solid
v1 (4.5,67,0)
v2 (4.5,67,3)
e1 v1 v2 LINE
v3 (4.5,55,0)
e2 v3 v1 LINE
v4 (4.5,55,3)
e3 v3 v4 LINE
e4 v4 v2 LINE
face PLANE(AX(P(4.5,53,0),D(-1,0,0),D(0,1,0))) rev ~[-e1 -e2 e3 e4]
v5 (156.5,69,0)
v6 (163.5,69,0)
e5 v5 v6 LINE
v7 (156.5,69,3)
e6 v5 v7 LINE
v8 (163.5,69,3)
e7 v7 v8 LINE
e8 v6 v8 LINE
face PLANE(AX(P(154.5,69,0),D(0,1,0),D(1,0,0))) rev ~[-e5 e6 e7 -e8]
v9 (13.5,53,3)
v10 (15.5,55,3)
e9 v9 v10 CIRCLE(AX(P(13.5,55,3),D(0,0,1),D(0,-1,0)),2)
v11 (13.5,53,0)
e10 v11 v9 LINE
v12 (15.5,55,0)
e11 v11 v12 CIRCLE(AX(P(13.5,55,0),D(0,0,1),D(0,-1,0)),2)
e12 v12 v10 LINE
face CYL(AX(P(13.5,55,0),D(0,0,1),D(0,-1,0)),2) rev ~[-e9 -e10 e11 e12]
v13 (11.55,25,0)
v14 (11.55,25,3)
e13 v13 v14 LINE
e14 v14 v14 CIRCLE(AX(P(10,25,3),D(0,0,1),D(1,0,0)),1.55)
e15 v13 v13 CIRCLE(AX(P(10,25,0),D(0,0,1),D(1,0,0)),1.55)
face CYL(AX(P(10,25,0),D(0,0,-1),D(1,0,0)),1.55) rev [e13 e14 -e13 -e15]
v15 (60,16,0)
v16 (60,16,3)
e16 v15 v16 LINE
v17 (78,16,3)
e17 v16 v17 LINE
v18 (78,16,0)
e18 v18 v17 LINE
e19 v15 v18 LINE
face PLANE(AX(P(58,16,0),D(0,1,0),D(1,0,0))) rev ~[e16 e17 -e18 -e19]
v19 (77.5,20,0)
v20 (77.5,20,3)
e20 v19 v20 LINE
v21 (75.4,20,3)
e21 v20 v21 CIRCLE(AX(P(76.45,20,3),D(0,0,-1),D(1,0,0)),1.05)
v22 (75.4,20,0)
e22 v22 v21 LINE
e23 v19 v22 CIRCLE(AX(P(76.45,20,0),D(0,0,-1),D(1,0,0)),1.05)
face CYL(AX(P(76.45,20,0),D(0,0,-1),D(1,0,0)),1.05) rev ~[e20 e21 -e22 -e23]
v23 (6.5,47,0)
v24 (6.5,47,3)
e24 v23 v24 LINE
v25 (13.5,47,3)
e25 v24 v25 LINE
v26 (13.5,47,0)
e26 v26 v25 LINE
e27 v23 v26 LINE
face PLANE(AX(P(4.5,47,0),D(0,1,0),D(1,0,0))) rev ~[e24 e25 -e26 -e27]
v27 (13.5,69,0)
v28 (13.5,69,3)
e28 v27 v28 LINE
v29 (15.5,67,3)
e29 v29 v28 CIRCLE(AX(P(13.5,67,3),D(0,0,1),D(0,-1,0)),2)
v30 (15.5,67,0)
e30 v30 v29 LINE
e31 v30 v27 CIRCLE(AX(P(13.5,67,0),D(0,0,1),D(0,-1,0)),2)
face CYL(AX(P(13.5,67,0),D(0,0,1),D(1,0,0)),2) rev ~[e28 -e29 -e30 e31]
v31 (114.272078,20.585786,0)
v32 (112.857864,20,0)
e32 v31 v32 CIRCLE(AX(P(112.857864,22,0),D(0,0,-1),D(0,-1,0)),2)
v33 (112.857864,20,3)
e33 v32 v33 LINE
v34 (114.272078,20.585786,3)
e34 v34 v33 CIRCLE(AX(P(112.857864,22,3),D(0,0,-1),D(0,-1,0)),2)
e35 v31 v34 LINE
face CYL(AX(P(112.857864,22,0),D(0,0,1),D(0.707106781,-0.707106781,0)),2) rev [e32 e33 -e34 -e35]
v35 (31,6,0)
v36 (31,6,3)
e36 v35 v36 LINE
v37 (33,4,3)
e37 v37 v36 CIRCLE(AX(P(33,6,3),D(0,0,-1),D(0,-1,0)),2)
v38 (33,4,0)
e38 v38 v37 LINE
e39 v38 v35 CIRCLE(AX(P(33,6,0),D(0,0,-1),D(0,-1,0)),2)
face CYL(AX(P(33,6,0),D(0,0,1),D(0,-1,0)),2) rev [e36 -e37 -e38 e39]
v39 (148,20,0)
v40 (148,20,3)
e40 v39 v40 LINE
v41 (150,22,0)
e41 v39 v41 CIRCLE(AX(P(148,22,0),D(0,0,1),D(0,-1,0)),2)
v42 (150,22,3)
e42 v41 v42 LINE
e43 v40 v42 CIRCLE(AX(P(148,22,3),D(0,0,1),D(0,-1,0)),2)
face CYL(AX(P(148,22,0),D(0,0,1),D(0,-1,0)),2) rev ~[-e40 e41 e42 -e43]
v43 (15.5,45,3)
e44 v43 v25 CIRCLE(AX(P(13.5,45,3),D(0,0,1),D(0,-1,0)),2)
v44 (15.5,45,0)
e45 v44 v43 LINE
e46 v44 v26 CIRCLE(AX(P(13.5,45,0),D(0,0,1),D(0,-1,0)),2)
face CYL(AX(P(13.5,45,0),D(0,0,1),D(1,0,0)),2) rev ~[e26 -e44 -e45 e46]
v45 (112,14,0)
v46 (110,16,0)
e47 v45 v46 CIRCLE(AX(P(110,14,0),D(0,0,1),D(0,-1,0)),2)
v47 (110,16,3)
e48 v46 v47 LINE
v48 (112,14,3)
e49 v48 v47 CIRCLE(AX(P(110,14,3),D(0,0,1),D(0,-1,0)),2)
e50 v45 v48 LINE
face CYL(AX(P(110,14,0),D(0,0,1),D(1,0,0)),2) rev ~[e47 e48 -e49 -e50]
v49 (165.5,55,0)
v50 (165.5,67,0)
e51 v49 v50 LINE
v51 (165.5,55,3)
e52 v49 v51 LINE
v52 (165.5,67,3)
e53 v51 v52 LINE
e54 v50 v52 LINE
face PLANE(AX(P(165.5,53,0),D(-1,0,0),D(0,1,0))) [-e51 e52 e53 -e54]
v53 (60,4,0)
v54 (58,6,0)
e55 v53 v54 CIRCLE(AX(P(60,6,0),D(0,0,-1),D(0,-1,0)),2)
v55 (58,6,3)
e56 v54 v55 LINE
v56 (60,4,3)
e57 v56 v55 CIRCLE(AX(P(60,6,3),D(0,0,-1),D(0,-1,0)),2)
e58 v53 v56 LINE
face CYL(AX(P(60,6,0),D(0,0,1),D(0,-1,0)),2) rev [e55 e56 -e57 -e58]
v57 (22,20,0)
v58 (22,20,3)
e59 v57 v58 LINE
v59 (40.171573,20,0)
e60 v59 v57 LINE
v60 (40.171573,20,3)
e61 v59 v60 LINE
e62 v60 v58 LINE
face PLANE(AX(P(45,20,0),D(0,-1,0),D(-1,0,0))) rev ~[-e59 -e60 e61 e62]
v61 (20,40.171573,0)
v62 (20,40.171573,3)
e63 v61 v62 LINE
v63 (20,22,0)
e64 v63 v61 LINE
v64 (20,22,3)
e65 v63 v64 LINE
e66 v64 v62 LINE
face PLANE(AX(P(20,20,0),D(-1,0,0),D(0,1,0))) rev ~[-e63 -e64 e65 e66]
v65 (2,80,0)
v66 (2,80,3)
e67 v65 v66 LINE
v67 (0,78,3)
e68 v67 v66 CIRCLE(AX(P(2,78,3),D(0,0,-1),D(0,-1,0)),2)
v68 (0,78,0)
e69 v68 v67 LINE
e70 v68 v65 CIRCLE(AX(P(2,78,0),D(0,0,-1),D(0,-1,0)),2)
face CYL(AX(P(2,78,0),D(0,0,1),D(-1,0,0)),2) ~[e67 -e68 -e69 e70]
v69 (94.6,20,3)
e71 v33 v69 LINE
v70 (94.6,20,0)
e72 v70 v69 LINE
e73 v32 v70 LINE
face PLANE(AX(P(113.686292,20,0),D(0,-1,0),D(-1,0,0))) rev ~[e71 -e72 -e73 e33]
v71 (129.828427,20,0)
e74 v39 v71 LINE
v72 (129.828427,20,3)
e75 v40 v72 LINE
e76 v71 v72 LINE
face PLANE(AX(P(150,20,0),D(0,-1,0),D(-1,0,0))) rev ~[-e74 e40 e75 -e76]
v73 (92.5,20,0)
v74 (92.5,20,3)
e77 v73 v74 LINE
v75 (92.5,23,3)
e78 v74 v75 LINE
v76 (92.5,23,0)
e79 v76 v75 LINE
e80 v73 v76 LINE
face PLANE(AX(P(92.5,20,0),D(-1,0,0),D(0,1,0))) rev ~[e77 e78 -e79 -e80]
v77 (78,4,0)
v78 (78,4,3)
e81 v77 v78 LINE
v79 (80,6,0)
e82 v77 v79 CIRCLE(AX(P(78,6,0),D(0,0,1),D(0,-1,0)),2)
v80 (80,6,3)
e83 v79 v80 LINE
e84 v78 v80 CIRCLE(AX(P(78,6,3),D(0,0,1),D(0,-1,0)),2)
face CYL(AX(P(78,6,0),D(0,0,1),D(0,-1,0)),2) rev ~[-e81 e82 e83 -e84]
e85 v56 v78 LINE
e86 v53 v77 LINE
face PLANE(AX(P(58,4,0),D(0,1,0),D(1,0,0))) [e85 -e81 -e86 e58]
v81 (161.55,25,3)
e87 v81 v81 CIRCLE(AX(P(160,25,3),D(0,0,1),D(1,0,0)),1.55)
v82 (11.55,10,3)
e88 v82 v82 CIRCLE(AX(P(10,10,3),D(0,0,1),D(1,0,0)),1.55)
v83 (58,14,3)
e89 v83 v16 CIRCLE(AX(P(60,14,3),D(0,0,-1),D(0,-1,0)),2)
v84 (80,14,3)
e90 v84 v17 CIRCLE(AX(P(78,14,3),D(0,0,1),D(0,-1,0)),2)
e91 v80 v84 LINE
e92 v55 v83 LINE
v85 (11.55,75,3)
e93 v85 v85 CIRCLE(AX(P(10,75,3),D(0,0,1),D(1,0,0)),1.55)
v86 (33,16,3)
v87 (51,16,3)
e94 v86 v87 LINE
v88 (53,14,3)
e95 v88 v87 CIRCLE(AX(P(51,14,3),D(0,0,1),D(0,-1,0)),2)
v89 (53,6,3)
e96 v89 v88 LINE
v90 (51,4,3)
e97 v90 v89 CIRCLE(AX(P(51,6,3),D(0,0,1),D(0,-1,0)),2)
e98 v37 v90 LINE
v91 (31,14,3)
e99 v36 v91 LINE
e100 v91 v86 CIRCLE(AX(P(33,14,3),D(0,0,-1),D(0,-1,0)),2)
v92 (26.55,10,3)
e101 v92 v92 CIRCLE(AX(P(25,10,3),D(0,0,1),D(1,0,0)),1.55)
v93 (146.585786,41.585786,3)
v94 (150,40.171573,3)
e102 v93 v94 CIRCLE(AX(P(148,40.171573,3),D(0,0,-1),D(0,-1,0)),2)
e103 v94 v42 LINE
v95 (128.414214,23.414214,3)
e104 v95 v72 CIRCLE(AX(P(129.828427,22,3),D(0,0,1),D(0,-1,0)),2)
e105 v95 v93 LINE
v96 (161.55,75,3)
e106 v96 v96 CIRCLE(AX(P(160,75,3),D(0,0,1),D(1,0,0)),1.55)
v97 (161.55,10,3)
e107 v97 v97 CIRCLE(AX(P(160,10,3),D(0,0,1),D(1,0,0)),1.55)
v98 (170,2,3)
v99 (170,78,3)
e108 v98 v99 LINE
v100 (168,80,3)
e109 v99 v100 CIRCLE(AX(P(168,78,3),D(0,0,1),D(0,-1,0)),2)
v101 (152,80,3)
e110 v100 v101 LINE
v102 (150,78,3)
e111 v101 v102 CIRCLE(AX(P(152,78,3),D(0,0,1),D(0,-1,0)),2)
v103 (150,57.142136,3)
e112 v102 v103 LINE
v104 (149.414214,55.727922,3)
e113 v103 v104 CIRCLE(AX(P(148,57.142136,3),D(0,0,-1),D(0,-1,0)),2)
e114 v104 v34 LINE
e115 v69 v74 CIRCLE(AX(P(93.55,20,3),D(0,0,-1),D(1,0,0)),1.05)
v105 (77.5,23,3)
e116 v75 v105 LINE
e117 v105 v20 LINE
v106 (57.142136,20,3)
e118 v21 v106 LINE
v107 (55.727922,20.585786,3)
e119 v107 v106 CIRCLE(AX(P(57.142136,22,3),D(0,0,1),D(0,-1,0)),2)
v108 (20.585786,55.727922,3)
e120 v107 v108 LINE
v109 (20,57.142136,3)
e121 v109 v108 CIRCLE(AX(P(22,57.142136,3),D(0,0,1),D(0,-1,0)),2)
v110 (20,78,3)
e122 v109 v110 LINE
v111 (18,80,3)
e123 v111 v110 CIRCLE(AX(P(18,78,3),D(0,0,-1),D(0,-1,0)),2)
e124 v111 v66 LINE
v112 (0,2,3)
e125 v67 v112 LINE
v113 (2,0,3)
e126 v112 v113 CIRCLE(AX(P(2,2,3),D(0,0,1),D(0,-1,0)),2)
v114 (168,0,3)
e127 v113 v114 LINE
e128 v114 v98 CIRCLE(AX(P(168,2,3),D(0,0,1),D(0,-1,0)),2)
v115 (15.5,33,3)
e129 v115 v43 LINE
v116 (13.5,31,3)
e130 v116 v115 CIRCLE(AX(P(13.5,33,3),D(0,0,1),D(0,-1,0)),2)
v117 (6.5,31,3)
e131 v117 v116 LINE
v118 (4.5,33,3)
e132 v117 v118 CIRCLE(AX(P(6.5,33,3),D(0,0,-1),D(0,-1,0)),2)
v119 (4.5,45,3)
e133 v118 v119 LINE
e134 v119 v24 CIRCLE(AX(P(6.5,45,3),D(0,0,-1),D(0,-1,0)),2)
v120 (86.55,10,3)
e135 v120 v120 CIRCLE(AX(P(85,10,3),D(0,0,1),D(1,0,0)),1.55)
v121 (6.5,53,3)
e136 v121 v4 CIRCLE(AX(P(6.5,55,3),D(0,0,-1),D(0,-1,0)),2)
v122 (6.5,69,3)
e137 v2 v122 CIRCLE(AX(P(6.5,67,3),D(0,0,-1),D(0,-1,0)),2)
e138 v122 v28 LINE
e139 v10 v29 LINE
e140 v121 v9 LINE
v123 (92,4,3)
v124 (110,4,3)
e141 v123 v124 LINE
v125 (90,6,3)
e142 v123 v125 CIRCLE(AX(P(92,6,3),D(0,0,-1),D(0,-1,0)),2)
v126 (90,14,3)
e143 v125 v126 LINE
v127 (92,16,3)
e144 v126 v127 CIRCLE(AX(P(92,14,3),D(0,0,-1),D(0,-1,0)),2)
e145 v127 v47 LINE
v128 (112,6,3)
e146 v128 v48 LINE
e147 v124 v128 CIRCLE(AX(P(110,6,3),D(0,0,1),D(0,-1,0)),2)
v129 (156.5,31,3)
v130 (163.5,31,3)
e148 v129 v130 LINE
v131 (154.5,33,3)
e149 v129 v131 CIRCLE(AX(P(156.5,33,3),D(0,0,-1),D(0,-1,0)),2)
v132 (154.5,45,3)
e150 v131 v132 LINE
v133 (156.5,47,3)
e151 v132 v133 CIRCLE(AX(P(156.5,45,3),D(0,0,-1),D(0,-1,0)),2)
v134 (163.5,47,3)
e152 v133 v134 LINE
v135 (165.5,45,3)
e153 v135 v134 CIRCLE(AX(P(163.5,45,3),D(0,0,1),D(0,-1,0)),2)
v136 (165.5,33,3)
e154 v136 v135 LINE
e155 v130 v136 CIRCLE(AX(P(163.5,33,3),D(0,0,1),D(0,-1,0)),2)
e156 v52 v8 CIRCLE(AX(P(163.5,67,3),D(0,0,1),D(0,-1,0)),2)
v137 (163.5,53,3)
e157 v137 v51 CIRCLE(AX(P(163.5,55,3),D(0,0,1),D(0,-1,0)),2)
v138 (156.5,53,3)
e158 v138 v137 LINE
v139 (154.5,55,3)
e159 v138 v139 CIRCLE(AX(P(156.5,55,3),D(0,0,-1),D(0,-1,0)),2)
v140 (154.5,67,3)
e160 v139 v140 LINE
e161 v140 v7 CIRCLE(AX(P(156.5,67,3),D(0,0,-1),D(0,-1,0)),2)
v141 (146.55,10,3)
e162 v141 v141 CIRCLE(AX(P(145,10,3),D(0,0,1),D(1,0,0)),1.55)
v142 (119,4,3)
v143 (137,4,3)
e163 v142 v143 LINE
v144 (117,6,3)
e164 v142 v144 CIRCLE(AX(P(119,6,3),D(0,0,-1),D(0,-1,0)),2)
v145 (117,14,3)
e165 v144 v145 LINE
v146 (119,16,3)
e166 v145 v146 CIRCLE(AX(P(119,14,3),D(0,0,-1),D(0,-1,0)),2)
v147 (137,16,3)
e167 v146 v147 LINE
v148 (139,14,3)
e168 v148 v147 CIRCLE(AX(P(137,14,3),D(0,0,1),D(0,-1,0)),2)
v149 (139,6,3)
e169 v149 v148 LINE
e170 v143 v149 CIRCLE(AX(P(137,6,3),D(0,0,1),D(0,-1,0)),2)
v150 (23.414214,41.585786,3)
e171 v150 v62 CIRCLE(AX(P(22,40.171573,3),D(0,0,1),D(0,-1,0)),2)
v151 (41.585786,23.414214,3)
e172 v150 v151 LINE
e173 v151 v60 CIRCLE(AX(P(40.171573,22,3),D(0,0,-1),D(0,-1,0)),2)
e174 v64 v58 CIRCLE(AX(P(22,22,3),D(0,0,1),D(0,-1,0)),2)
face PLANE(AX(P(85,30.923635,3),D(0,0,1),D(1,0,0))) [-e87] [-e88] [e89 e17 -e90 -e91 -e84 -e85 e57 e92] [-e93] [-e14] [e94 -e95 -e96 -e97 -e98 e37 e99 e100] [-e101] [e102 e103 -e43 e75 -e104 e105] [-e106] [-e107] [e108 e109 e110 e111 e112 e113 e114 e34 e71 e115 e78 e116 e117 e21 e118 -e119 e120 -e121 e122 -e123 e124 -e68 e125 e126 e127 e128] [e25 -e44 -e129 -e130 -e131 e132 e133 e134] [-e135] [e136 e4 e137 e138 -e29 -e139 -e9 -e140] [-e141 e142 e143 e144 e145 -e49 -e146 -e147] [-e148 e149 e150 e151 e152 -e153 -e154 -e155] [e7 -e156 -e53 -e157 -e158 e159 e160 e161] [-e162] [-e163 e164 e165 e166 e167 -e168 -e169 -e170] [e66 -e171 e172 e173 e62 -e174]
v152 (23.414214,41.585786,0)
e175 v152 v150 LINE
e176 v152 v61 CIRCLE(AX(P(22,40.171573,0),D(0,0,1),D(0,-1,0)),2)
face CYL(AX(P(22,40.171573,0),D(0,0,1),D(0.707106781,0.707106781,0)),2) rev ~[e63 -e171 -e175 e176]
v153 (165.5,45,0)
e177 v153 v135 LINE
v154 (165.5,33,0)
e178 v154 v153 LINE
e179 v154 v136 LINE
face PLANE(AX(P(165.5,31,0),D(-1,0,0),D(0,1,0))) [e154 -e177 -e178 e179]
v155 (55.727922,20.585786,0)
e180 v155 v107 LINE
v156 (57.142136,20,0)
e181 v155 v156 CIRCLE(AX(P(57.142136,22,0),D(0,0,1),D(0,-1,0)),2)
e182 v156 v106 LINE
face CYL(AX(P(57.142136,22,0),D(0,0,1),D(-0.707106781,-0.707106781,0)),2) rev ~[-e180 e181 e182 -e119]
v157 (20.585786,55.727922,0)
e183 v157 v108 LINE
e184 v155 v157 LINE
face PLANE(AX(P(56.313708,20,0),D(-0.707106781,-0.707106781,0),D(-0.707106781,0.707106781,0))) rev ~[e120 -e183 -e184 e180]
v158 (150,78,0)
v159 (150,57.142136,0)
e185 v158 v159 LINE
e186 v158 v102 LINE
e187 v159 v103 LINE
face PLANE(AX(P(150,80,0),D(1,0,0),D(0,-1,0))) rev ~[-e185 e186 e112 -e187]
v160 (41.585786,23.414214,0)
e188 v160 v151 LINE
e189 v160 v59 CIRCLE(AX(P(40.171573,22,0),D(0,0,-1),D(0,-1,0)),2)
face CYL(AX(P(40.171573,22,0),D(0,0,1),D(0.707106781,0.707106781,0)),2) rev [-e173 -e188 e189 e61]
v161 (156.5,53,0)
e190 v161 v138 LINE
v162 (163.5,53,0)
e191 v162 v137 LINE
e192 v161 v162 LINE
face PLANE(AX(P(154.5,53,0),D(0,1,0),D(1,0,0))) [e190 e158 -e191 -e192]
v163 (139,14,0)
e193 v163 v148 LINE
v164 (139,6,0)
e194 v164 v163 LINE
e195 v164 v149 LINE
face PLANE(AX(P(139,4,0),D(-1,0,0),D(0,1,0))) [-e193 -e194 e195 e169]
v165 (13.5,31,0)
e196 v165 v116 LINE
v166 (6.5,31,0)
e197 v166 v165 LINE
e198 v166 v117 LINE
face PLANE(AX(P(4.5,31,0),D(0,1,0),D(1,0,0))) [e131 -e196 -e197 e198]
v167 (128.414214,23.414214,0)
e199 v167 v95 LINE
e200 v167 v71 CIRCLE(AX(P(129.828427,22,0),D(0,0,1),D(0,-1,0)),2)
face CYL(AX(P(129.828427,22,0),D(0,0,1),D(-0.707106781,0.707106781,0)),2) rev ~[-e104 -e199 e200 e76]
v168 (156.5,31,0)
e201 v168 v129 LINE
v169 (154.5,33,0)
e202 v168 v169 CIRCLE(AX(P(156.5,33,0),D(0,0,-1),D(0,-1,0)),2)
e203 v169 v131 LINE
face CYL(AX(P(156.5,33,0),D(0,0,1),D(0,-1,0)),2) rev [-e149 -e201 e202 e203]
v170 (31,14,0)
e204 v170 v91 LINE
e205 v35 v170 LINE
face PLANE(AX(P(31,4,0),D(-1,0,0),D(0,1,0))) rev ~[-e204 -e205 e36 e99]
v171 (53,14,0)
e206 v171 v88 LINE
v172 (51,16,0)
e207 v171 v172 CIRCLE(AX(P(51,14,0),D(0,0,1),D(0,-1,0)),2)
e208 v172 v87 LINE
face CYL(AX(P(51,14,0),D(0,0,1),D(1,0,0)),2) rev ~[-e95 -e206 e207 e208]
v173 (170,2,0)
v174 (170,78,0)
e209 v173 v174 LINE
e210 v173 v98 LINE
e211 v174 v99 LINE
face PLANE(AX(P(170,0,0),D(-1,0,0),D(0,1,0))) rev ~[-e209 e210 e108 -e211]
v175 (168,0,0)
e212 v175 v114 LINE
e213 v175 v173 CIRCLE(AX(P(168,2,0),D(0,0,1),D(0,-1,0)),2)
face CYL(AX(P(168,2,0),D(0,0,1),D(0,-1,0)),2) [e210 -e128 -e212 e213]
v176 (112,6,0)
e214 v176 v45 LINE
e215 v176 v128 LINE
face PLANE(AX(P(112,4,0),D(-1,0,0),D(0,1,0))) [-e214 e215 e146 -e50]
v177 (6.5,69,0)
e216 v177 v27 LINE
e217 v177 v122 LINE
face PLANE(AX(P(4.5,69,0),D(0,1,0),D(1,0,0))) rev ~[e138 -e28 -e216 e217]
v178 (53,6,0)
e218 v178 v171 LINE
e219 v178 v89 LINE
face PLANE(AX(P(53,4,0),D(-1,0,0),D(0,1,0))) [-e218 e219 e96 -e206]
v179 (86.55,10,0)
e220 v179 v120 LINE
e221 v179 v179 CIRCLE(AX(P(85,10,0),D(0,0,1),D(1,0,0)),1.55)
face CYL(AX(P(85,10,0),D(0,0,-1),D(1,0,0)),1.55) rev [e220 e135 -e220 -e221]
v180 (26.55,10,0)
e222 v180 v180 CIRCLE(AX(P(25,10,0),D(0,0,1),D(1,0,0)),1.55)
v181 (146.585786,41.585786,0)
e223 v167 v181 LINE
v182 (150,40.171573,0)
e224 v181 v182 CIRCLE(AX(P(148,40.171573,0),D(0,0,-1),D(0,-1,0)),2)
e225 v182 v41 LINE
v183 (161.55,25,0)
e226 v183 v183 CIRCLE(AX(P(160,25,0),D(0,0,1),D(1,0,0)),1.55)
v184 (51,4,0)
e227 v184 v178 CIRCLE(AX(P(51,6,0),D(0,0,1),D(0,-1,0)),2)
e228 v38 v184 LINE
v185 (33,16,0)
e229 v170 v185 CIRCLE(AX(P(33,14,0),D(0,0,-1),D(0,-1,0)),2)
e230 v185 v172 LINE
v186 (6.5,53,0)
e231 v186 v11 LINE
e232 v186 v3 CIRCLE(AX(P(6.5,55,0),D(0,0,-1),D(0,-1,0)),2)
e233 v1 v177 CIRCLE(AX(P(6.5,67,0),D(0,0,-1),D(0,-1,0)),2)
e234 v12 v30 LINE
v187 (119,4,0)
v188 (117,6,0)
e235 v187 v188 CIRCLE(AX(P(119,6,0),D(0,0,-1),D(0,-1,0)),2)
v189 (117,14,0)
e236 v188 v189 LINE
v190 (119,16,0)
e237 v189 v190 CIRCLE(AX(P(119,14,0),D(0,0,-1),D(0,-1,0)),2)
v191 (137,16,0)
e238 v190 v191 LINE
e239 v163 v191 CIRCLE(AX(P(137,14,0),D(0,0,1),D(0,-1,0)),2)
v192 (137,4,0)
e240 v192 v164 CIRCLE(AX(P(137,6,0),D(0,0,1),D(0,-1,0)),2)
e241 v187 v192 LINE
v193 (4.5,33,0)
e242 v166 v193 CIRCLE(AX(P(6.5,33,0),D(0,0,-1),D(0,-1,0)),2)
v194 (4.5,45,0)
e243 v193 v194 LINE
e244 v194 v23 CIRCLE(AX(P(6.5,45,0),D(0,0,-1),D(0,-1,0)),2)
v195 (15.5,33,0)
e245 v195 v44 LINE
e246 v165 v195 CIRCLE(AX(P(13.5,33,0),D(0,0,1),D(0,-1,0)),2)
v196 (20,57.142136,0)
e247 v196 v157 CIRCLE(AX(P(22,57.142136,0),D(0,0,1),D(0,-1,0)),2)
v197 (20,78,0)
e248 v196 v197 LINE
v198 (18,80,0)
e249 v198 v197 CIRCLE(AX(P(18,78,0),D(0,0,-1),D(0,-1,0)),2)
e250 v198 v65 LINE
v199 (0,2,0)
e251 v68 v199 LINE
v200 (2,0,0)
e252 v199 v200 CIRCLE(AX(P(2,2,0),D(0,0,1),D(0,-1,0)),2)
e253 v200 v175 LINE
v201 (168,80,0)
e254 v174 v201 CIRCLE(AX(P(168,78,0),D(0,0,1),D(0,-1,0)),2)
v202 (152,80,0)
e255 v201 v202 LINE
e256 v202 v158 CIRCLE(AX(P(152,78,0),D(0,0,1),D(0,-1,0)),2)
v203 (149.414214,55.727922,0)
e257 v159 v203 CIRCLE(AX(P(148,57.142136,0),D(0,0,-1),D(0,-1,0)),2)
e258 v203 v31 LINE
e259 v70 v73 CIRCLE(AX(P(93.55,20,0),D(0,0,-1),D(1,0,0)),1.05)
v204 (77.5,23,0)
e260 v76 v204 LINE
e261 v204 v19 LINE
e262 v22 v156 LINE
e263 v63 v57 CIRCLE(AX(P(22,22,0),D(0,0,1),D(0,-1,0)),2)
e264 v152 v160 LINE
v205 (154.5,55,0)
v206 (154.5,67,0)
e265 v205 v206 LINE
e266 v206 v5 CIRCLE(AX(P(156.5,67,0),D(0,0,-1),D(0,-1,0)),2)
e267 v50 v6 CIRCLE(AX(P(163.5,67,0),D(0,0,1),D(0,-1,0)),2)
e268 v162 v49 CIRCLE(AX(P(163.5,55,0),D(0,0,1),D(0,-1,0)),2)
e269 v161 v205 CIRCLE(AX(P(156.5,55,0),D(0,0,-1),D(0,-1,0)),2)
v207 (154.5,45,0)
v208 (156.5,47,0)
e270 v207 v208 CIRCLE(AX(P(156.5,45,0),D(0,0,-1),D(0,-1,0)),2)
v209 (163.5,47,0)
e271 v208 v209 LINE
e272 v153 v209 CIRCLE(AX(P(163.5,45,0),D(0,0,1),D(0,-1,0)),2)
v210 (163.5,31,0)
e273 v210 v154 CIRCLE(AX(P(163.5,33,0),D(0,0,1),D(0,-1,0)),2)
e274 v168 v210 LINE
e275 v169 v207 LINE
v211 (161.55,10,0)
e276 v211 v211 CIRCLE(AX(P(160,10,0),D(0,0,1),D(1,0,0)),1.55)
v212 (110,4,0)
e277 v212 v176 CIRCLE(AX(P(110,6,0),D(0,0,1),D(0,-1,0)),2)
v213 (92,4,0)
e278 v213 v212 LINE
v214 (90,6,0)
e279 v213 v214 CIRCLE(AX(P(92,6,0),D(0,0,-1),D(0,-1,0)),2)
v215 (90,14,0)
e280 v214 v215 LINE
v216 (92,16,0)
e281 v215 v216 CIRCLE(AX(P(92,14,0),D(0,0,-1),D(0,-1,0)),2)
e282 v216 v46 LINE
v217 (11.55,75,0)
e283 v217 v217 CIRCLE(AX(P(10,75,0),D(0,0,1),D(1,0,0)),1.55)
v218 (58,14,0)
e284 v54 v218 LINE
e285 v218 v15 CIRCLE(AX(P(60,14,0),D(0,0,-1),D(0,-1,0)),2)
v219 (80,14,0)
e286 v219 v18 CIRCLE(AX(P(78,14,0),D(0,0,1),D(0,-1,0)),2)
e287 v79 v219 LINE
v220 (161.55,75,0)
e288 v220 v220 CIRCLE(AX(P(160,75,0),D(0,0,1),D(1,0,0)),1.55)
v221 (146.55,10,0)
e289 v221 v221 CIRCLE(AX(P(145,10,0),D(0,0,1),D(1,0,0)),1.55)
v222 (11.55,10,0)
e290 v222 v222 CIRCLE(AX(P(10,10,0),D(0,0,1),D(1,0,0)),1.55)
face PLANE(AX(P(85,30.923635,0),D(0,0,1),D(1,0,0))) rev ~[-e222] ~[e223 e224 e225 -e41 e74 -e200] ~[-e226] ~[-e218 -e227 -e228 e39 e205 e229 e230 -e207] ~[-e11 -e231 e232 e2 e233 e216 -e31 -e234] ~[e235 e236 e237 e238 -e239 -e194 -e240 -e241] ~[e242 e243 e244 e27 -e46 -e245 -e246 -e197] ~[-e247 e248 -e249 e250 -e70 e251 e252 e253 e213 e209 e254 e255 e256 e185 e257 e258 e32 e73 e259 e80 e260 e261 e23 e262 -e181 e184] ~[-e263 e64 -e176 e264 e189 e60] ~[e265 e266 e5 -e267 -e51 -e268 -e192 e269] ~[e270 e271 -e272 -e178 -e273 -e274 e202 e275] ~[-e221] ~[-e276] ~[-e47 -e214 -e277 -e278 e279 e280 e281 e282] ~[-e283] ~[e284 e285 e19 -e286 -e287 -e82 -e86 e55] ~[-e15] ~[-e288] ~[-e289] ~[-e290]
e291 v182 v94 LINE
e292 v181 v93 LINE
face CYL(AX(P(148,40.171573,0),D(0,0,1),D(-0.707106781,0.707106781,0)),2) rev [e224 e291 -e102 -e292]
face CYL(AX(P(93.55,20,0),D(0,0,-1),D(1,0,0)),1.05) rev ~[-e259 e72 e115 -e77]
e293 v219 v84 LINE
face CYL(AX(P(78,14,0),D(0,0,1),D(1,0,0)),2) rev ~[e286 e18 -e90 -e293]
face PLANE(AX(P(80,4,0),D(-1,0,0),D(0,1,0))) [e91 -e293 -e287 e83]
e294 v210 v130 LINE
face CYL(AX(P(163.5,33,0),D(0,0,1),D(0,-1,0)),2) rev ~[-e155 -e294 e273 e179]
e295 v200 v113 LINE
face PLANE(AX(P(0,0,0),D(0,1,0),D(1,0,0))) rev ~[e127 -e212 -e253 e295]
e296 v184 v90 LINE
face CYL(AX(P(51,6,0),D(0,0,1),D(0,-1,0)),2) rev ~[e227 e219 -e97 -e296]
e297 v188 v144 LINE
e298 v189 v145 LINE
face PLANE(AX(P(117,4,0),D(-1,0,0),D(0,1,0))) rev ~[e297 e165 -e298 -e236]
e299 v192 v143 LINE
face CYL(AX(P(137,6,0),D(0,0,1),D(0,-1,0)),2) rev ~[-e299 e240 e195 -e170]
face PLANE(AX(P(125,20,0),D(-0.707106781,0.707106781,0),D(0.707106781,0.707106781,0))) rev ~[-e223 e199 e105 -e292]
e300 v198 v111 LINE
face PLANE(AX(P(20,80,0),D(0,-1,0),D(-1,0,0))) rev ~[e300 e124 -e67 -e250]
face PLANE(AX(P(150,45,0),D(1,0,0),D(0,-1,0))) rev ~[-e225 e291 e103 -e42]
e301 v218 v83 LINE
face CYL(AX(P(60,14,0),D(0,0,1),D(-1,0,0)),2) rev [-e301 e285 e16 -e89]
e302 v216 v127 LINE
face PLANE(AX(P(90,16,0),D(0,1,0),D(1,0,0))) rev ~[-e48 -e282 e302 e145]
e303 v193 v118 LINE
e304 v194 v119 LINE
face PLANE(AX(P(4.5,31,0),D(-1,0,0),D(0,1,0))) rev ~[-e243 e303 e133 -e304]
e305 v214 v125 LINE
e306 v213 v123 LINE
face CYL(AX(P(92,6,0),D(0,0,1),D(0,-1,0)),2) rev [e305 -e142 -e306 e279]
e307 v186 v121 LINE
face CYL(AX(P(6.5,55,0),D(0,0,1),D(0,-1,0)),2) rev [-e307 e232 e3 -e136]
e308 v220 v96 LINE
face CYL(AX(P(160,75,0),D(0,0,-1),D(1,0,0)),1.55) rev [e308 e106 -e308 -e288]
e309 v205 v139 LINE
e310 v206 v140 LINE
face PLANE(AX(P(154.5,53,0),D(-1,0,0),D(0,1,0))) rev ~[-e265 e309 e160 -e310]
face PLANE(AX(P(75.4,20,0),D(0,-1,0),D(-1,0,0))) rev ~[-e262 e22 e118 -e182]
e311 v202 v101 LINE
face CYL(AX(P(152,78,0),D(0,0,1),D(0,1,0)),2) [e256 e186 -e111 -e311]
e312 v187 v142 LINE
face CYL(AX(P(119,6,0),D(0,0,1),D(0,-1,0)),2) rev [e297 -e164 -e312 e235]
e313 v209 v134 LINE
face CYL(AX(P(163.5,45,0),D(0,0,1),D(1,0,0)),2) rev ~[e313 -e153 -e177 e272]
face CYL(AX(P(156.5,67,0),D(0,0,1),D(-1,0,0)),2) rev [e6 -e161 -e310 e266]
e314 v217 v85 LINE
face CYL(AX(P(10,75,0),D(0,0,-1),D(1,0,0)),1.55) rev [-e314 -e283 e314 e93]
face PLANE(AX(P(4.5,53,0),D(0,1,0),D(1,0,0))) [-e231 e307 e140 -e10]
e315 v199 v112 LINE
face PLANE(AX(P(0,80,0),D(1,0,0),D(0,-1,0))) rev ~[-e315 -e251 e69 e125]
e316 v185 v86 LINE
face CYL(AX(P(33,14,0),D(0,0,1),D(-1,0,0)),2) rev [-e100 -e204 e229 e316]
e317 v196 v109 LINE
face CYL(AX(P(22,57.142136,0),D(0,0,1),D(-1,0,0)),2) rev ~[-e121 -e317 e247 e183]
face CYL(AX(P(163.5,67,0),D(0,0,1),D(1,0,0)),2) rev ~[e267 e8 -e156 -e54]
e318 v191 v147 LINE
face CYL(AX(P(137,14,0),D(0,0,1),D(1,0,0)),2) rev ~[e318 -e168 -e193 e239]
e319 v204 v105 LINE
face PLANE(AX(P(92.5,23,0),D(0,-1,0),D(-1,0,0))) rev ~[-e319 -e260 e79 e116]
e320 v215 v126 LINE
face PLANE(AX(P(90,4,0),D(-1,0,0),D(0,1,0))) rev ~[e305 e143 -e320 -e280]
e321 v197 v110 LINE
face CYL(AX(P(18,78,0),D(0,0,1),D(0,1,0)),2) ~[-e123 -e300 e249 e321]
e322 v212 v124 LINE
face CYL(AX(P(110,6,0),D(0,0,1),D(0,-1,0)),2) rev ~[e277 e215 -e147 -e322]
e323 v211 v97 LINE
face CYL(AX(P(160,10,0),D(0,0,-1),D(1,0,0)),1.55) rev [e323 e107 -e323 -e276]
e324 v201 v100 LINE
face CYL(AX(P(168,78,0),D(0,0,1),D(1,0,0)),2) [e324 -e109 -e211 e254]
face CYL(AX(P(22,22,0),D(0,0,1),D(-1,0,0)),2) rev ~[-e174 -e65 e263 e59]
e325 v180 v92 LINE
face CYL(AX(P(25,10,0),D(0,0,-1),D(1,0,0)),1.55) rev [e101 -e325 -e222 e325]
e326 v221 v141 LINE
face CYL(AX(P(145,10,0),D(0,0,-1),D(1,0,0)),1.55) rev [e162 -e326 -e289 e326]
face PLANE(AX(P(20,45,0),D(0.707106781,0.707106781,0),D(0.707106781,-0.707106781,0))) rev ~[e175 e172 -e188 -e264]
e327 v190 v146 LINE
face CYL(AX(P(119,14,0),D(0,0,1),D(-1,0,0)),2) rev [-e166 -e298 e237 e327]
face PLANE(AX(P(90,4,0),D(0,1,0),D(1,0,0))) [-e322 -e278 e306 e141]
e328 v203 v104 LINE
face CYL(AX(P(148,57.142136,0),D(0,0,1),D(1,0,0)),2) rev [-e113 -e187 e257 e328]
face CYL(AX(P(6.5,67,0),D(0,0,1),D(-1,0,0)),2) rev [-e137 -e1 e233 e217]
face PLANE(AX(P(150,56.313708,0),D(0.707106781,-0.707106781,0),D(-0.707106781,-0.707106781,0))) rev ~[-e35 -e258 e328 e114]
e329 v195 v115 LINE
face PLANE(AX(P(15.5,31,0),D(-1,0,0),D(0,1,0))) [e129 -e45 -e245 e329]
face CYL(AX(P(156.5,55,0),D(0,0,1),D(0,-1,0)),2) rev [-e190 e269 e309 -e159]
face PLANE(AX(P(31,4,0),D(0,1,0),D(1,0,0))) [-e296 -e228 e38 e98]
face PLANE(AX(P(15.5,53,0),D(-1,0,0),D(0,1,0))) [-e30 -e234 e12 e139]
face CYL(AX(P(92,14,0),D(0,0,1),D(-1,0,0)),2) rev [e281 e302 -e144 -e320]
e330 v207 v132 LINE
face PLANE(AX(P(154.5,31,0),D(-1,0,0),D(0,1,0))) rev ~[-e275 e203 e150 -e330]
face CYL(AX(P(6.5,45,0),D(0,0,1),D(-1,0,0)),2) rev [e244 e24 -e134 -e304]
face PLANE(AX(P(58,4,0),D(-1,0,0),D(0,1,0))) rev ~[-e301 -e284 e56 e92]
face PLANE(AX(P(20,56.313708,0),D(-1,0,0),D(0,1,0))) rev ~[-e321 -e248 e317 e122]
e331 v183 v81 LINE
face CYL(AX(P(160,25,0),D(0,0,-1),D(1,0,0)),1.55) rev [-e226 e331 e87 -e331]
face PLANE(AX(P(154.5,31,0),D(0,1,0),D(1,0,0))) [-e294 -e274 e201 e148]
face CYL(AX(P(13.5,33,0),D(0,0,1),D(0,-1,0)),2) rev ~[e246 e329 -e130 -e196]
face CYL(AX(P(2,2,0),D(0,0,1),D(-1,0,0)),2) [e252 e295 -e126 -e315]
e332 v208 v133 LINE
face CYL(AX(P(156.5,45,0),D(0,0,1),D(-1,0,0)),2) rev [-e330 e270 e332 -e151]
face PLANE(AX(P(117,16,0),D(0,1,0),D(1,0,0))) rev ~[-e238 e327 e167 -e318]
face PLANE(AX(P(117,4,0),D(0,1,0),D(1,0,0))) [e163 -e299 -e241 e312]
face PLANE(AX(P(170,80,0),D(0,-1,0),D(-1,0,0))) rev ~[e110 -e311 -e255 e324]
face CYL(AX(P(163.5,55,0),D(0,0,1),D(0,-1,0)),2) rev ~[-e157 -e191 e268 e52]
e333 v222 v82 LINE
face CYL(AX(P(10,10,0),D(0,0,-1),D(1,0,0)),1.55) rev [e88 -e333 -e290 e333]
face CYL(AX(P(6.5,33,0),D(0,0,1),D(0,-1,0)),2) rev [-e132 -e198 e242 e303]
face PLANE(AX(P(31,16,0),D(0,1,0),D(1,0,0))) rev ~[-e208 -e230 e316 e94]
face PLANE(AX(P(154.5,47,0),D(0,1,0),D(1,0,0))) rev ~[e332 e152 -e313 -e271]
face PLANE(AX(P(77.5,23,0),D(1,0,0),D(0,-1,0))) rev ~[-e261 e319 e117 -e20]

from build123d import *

# Parameters (mm, degrees)
SKETCH_1_R      = 1.55
SKETCH_1_W      = 22
SKETCH_1_H      = 12
SKETCH_1_W_2    = 11
SKETCH_1_H_2    = 16
EXTRUDE_1_DEPTH = 3
FILLET_1_R      = 2


with BuildPart() as part:
    # 草图1 → 凸台-拉伸1 (new body)
    with BuildSketch(Plane.XY):
        with BuildLine():
            Line((0, 80), (0, 0))
            Line((0, 0), (170, 0))
            Line((170, 0), (170, 80))
            Line((170, 80), (150, 80))
            Line((150, 80), (150, 56.313708499))
            Line((150, 56.313708499), (113.686291501, 20))
            Line((113.686291501, 20), (94.6, 20))
            ThreePointArc((94.6, 20), (93.55, 18.95), (92.5, 20))
            Line((92.5, 20), (92.5, 23))
            Line((92.5, 23), (77.5, 23))
            Line((77.5, 23), (77.5, 20))
            ThreePointArc((77.5, 20), (76.45, 18.95), (75.4, 20))
            Line((75.4, 20), (56.313708499, 20))
            Line((56.313708499, 20), (20, 56.313708499))
            Line((20, 56.313708499), (20, 80))
            Line((20, 80), (0, 80))
        make_face()
        with Locations((10, 10)):
            Circle(SKETCH_1_R, mode=Mode.SUBTRACT)
        with Locations((25, 10)):
            Circle(SKETCH_1_R, mode=Mode.SUBTRACT)
        with Locations((42, 10)):
            Rectangle(SKETCH_1_W, SKETCH_1_H, mode=Mode.SUBTRACT)
        with Locations((69, 10)):
            Rectangle(SKETCH_1_W, SKETCH_1_H, mode=Mode.SUBTRACT)
        with Locations((10, 25)):
            Circle(SKETCH_1_R, mode=Mode.SUBTRACT)
        with Locations((10, 39)):
            Rectangle(SKETCH_1_W_2, SKETCH_1_H_2, mode=Mode.SUBTRACT)
        Polygon((45, 20), (20, 20), (20, 45), align=None, mode=Mode.SUBTRACT)
        with Locations((85, 10)):
            Circle(SKETCH_1_R, mode=Mode.SUBTRACT)
        with Locations((101, 10)):
            Rectangle(SKETCH_1_W, SKETCH_1_H, mode=Mode.SUBTRACT)
        with Locations((145, 10)):
            Circle(SKETCH_1_R, mode=Mode.SUBTRACT)
        with Locations((160, 10)):
            Circle(SKETCH_1_R, mode=Mode.SUBTRACT)
        with Locations((128, 10)):
            Rectangle(SKETCH_1_W, SKETCH_1_H, mode=Mode.SUBTRACT)
        with Locations((160, 25)):
            Circle(SKETCH_1_R, mode=Mode.SUBTRACT)
        Polygon((150, 45), (150, 20), (125, 20), align=None, mode=Mode.SUBTRACT)
        with Locations((160, 39)):
            Rectangle(SKETCH_1_W_2, SKETCH_1_H_2, mode=Mode.SUBTRACT)
        with Locations((10, 61)):
            Rectangle(SKETCH_1_W_2, SKETCH_1_H_2, mode=Mode.SUBTRACT)
        with Locations((10, 75)):
            Circle(SKETCH_1_R, mode=Mode.SUBTRACT)
        with Locations((160, 61)):
            Rectangle(SKETCH_1_W_2, SKETCH_1_H_2, mode=Mode.SUBTRACT)
        with Locations((160, 75)):
            Circle(SKETCH_1_R, mode=Mode.SUBTRACT)
    extrude(amount=EXTRUDE_1_DEPTH)

    # 圆角1
    fillet_1_edges = [part.edges().sort_by_distance(p)[0] for p in [
        (150, 20, 1.5),
        (150, 45, 1.5),
        (125, 20, 1.5),
        (20, 20, 1.5),
        (45, 20, 1.5),
        (20, 45, 1.5),
        (15.5, 31, 1.5),
        (15.5, 47, 1.5),
        (4.5, 47, 1.5),
        (4.5, 31, 1.5),
        (15.5, 53, 1.5),
        (15.5, 69, 1.5),
        (4.5, 69, 1.5),
        (4.5, 53, 1.5),
        (165.5, 31, 1.5),
        (165.5, 47, 1.5),
        (154.5, 47, 1.5),
        (154.5, 31, 1.5),
        (165.5, 53, 1.5),
        (165.5, 69, 1.5),
        (154.5, 69, 1.5),
        (154.5, 53, 1.5),
        (53, 4, 1.5),
        (53, 16, 1.5),
        (31, 16, 1.5),
        (31, 4, 1.5),
        (80, 4, 1.5),
        (80, 16, 1.5),
        (58, 16, 1.5),
        (58, 4, 1.5),
        (139, 4, 1.5),
        (139, 16, 1.5),
        (117, 16, 1.5),
        (117, 4, 1.5),
        (112, 4, 1.5),
        (112, 16, 1.5),
        (90, 16, 1.5),
        (90, 4, 1.5),
        (113.686291501, 20, 1.5),
        (150, 56.313708499, 1.5),
        (150, 80, 1.5),
        (170, 80, 1.5),
        (170, 0, 1.5),
        (0, 0, 1.5),
        (0, 80, 1.5),
        (20, 80, 1.5),
        (20, 56.313708499, 1.5),
        (56.313708499, 20, 1.5),
    ]]
    fillet(fillet_1_edges, radius=FILLET_1_R)


solid = part.part
